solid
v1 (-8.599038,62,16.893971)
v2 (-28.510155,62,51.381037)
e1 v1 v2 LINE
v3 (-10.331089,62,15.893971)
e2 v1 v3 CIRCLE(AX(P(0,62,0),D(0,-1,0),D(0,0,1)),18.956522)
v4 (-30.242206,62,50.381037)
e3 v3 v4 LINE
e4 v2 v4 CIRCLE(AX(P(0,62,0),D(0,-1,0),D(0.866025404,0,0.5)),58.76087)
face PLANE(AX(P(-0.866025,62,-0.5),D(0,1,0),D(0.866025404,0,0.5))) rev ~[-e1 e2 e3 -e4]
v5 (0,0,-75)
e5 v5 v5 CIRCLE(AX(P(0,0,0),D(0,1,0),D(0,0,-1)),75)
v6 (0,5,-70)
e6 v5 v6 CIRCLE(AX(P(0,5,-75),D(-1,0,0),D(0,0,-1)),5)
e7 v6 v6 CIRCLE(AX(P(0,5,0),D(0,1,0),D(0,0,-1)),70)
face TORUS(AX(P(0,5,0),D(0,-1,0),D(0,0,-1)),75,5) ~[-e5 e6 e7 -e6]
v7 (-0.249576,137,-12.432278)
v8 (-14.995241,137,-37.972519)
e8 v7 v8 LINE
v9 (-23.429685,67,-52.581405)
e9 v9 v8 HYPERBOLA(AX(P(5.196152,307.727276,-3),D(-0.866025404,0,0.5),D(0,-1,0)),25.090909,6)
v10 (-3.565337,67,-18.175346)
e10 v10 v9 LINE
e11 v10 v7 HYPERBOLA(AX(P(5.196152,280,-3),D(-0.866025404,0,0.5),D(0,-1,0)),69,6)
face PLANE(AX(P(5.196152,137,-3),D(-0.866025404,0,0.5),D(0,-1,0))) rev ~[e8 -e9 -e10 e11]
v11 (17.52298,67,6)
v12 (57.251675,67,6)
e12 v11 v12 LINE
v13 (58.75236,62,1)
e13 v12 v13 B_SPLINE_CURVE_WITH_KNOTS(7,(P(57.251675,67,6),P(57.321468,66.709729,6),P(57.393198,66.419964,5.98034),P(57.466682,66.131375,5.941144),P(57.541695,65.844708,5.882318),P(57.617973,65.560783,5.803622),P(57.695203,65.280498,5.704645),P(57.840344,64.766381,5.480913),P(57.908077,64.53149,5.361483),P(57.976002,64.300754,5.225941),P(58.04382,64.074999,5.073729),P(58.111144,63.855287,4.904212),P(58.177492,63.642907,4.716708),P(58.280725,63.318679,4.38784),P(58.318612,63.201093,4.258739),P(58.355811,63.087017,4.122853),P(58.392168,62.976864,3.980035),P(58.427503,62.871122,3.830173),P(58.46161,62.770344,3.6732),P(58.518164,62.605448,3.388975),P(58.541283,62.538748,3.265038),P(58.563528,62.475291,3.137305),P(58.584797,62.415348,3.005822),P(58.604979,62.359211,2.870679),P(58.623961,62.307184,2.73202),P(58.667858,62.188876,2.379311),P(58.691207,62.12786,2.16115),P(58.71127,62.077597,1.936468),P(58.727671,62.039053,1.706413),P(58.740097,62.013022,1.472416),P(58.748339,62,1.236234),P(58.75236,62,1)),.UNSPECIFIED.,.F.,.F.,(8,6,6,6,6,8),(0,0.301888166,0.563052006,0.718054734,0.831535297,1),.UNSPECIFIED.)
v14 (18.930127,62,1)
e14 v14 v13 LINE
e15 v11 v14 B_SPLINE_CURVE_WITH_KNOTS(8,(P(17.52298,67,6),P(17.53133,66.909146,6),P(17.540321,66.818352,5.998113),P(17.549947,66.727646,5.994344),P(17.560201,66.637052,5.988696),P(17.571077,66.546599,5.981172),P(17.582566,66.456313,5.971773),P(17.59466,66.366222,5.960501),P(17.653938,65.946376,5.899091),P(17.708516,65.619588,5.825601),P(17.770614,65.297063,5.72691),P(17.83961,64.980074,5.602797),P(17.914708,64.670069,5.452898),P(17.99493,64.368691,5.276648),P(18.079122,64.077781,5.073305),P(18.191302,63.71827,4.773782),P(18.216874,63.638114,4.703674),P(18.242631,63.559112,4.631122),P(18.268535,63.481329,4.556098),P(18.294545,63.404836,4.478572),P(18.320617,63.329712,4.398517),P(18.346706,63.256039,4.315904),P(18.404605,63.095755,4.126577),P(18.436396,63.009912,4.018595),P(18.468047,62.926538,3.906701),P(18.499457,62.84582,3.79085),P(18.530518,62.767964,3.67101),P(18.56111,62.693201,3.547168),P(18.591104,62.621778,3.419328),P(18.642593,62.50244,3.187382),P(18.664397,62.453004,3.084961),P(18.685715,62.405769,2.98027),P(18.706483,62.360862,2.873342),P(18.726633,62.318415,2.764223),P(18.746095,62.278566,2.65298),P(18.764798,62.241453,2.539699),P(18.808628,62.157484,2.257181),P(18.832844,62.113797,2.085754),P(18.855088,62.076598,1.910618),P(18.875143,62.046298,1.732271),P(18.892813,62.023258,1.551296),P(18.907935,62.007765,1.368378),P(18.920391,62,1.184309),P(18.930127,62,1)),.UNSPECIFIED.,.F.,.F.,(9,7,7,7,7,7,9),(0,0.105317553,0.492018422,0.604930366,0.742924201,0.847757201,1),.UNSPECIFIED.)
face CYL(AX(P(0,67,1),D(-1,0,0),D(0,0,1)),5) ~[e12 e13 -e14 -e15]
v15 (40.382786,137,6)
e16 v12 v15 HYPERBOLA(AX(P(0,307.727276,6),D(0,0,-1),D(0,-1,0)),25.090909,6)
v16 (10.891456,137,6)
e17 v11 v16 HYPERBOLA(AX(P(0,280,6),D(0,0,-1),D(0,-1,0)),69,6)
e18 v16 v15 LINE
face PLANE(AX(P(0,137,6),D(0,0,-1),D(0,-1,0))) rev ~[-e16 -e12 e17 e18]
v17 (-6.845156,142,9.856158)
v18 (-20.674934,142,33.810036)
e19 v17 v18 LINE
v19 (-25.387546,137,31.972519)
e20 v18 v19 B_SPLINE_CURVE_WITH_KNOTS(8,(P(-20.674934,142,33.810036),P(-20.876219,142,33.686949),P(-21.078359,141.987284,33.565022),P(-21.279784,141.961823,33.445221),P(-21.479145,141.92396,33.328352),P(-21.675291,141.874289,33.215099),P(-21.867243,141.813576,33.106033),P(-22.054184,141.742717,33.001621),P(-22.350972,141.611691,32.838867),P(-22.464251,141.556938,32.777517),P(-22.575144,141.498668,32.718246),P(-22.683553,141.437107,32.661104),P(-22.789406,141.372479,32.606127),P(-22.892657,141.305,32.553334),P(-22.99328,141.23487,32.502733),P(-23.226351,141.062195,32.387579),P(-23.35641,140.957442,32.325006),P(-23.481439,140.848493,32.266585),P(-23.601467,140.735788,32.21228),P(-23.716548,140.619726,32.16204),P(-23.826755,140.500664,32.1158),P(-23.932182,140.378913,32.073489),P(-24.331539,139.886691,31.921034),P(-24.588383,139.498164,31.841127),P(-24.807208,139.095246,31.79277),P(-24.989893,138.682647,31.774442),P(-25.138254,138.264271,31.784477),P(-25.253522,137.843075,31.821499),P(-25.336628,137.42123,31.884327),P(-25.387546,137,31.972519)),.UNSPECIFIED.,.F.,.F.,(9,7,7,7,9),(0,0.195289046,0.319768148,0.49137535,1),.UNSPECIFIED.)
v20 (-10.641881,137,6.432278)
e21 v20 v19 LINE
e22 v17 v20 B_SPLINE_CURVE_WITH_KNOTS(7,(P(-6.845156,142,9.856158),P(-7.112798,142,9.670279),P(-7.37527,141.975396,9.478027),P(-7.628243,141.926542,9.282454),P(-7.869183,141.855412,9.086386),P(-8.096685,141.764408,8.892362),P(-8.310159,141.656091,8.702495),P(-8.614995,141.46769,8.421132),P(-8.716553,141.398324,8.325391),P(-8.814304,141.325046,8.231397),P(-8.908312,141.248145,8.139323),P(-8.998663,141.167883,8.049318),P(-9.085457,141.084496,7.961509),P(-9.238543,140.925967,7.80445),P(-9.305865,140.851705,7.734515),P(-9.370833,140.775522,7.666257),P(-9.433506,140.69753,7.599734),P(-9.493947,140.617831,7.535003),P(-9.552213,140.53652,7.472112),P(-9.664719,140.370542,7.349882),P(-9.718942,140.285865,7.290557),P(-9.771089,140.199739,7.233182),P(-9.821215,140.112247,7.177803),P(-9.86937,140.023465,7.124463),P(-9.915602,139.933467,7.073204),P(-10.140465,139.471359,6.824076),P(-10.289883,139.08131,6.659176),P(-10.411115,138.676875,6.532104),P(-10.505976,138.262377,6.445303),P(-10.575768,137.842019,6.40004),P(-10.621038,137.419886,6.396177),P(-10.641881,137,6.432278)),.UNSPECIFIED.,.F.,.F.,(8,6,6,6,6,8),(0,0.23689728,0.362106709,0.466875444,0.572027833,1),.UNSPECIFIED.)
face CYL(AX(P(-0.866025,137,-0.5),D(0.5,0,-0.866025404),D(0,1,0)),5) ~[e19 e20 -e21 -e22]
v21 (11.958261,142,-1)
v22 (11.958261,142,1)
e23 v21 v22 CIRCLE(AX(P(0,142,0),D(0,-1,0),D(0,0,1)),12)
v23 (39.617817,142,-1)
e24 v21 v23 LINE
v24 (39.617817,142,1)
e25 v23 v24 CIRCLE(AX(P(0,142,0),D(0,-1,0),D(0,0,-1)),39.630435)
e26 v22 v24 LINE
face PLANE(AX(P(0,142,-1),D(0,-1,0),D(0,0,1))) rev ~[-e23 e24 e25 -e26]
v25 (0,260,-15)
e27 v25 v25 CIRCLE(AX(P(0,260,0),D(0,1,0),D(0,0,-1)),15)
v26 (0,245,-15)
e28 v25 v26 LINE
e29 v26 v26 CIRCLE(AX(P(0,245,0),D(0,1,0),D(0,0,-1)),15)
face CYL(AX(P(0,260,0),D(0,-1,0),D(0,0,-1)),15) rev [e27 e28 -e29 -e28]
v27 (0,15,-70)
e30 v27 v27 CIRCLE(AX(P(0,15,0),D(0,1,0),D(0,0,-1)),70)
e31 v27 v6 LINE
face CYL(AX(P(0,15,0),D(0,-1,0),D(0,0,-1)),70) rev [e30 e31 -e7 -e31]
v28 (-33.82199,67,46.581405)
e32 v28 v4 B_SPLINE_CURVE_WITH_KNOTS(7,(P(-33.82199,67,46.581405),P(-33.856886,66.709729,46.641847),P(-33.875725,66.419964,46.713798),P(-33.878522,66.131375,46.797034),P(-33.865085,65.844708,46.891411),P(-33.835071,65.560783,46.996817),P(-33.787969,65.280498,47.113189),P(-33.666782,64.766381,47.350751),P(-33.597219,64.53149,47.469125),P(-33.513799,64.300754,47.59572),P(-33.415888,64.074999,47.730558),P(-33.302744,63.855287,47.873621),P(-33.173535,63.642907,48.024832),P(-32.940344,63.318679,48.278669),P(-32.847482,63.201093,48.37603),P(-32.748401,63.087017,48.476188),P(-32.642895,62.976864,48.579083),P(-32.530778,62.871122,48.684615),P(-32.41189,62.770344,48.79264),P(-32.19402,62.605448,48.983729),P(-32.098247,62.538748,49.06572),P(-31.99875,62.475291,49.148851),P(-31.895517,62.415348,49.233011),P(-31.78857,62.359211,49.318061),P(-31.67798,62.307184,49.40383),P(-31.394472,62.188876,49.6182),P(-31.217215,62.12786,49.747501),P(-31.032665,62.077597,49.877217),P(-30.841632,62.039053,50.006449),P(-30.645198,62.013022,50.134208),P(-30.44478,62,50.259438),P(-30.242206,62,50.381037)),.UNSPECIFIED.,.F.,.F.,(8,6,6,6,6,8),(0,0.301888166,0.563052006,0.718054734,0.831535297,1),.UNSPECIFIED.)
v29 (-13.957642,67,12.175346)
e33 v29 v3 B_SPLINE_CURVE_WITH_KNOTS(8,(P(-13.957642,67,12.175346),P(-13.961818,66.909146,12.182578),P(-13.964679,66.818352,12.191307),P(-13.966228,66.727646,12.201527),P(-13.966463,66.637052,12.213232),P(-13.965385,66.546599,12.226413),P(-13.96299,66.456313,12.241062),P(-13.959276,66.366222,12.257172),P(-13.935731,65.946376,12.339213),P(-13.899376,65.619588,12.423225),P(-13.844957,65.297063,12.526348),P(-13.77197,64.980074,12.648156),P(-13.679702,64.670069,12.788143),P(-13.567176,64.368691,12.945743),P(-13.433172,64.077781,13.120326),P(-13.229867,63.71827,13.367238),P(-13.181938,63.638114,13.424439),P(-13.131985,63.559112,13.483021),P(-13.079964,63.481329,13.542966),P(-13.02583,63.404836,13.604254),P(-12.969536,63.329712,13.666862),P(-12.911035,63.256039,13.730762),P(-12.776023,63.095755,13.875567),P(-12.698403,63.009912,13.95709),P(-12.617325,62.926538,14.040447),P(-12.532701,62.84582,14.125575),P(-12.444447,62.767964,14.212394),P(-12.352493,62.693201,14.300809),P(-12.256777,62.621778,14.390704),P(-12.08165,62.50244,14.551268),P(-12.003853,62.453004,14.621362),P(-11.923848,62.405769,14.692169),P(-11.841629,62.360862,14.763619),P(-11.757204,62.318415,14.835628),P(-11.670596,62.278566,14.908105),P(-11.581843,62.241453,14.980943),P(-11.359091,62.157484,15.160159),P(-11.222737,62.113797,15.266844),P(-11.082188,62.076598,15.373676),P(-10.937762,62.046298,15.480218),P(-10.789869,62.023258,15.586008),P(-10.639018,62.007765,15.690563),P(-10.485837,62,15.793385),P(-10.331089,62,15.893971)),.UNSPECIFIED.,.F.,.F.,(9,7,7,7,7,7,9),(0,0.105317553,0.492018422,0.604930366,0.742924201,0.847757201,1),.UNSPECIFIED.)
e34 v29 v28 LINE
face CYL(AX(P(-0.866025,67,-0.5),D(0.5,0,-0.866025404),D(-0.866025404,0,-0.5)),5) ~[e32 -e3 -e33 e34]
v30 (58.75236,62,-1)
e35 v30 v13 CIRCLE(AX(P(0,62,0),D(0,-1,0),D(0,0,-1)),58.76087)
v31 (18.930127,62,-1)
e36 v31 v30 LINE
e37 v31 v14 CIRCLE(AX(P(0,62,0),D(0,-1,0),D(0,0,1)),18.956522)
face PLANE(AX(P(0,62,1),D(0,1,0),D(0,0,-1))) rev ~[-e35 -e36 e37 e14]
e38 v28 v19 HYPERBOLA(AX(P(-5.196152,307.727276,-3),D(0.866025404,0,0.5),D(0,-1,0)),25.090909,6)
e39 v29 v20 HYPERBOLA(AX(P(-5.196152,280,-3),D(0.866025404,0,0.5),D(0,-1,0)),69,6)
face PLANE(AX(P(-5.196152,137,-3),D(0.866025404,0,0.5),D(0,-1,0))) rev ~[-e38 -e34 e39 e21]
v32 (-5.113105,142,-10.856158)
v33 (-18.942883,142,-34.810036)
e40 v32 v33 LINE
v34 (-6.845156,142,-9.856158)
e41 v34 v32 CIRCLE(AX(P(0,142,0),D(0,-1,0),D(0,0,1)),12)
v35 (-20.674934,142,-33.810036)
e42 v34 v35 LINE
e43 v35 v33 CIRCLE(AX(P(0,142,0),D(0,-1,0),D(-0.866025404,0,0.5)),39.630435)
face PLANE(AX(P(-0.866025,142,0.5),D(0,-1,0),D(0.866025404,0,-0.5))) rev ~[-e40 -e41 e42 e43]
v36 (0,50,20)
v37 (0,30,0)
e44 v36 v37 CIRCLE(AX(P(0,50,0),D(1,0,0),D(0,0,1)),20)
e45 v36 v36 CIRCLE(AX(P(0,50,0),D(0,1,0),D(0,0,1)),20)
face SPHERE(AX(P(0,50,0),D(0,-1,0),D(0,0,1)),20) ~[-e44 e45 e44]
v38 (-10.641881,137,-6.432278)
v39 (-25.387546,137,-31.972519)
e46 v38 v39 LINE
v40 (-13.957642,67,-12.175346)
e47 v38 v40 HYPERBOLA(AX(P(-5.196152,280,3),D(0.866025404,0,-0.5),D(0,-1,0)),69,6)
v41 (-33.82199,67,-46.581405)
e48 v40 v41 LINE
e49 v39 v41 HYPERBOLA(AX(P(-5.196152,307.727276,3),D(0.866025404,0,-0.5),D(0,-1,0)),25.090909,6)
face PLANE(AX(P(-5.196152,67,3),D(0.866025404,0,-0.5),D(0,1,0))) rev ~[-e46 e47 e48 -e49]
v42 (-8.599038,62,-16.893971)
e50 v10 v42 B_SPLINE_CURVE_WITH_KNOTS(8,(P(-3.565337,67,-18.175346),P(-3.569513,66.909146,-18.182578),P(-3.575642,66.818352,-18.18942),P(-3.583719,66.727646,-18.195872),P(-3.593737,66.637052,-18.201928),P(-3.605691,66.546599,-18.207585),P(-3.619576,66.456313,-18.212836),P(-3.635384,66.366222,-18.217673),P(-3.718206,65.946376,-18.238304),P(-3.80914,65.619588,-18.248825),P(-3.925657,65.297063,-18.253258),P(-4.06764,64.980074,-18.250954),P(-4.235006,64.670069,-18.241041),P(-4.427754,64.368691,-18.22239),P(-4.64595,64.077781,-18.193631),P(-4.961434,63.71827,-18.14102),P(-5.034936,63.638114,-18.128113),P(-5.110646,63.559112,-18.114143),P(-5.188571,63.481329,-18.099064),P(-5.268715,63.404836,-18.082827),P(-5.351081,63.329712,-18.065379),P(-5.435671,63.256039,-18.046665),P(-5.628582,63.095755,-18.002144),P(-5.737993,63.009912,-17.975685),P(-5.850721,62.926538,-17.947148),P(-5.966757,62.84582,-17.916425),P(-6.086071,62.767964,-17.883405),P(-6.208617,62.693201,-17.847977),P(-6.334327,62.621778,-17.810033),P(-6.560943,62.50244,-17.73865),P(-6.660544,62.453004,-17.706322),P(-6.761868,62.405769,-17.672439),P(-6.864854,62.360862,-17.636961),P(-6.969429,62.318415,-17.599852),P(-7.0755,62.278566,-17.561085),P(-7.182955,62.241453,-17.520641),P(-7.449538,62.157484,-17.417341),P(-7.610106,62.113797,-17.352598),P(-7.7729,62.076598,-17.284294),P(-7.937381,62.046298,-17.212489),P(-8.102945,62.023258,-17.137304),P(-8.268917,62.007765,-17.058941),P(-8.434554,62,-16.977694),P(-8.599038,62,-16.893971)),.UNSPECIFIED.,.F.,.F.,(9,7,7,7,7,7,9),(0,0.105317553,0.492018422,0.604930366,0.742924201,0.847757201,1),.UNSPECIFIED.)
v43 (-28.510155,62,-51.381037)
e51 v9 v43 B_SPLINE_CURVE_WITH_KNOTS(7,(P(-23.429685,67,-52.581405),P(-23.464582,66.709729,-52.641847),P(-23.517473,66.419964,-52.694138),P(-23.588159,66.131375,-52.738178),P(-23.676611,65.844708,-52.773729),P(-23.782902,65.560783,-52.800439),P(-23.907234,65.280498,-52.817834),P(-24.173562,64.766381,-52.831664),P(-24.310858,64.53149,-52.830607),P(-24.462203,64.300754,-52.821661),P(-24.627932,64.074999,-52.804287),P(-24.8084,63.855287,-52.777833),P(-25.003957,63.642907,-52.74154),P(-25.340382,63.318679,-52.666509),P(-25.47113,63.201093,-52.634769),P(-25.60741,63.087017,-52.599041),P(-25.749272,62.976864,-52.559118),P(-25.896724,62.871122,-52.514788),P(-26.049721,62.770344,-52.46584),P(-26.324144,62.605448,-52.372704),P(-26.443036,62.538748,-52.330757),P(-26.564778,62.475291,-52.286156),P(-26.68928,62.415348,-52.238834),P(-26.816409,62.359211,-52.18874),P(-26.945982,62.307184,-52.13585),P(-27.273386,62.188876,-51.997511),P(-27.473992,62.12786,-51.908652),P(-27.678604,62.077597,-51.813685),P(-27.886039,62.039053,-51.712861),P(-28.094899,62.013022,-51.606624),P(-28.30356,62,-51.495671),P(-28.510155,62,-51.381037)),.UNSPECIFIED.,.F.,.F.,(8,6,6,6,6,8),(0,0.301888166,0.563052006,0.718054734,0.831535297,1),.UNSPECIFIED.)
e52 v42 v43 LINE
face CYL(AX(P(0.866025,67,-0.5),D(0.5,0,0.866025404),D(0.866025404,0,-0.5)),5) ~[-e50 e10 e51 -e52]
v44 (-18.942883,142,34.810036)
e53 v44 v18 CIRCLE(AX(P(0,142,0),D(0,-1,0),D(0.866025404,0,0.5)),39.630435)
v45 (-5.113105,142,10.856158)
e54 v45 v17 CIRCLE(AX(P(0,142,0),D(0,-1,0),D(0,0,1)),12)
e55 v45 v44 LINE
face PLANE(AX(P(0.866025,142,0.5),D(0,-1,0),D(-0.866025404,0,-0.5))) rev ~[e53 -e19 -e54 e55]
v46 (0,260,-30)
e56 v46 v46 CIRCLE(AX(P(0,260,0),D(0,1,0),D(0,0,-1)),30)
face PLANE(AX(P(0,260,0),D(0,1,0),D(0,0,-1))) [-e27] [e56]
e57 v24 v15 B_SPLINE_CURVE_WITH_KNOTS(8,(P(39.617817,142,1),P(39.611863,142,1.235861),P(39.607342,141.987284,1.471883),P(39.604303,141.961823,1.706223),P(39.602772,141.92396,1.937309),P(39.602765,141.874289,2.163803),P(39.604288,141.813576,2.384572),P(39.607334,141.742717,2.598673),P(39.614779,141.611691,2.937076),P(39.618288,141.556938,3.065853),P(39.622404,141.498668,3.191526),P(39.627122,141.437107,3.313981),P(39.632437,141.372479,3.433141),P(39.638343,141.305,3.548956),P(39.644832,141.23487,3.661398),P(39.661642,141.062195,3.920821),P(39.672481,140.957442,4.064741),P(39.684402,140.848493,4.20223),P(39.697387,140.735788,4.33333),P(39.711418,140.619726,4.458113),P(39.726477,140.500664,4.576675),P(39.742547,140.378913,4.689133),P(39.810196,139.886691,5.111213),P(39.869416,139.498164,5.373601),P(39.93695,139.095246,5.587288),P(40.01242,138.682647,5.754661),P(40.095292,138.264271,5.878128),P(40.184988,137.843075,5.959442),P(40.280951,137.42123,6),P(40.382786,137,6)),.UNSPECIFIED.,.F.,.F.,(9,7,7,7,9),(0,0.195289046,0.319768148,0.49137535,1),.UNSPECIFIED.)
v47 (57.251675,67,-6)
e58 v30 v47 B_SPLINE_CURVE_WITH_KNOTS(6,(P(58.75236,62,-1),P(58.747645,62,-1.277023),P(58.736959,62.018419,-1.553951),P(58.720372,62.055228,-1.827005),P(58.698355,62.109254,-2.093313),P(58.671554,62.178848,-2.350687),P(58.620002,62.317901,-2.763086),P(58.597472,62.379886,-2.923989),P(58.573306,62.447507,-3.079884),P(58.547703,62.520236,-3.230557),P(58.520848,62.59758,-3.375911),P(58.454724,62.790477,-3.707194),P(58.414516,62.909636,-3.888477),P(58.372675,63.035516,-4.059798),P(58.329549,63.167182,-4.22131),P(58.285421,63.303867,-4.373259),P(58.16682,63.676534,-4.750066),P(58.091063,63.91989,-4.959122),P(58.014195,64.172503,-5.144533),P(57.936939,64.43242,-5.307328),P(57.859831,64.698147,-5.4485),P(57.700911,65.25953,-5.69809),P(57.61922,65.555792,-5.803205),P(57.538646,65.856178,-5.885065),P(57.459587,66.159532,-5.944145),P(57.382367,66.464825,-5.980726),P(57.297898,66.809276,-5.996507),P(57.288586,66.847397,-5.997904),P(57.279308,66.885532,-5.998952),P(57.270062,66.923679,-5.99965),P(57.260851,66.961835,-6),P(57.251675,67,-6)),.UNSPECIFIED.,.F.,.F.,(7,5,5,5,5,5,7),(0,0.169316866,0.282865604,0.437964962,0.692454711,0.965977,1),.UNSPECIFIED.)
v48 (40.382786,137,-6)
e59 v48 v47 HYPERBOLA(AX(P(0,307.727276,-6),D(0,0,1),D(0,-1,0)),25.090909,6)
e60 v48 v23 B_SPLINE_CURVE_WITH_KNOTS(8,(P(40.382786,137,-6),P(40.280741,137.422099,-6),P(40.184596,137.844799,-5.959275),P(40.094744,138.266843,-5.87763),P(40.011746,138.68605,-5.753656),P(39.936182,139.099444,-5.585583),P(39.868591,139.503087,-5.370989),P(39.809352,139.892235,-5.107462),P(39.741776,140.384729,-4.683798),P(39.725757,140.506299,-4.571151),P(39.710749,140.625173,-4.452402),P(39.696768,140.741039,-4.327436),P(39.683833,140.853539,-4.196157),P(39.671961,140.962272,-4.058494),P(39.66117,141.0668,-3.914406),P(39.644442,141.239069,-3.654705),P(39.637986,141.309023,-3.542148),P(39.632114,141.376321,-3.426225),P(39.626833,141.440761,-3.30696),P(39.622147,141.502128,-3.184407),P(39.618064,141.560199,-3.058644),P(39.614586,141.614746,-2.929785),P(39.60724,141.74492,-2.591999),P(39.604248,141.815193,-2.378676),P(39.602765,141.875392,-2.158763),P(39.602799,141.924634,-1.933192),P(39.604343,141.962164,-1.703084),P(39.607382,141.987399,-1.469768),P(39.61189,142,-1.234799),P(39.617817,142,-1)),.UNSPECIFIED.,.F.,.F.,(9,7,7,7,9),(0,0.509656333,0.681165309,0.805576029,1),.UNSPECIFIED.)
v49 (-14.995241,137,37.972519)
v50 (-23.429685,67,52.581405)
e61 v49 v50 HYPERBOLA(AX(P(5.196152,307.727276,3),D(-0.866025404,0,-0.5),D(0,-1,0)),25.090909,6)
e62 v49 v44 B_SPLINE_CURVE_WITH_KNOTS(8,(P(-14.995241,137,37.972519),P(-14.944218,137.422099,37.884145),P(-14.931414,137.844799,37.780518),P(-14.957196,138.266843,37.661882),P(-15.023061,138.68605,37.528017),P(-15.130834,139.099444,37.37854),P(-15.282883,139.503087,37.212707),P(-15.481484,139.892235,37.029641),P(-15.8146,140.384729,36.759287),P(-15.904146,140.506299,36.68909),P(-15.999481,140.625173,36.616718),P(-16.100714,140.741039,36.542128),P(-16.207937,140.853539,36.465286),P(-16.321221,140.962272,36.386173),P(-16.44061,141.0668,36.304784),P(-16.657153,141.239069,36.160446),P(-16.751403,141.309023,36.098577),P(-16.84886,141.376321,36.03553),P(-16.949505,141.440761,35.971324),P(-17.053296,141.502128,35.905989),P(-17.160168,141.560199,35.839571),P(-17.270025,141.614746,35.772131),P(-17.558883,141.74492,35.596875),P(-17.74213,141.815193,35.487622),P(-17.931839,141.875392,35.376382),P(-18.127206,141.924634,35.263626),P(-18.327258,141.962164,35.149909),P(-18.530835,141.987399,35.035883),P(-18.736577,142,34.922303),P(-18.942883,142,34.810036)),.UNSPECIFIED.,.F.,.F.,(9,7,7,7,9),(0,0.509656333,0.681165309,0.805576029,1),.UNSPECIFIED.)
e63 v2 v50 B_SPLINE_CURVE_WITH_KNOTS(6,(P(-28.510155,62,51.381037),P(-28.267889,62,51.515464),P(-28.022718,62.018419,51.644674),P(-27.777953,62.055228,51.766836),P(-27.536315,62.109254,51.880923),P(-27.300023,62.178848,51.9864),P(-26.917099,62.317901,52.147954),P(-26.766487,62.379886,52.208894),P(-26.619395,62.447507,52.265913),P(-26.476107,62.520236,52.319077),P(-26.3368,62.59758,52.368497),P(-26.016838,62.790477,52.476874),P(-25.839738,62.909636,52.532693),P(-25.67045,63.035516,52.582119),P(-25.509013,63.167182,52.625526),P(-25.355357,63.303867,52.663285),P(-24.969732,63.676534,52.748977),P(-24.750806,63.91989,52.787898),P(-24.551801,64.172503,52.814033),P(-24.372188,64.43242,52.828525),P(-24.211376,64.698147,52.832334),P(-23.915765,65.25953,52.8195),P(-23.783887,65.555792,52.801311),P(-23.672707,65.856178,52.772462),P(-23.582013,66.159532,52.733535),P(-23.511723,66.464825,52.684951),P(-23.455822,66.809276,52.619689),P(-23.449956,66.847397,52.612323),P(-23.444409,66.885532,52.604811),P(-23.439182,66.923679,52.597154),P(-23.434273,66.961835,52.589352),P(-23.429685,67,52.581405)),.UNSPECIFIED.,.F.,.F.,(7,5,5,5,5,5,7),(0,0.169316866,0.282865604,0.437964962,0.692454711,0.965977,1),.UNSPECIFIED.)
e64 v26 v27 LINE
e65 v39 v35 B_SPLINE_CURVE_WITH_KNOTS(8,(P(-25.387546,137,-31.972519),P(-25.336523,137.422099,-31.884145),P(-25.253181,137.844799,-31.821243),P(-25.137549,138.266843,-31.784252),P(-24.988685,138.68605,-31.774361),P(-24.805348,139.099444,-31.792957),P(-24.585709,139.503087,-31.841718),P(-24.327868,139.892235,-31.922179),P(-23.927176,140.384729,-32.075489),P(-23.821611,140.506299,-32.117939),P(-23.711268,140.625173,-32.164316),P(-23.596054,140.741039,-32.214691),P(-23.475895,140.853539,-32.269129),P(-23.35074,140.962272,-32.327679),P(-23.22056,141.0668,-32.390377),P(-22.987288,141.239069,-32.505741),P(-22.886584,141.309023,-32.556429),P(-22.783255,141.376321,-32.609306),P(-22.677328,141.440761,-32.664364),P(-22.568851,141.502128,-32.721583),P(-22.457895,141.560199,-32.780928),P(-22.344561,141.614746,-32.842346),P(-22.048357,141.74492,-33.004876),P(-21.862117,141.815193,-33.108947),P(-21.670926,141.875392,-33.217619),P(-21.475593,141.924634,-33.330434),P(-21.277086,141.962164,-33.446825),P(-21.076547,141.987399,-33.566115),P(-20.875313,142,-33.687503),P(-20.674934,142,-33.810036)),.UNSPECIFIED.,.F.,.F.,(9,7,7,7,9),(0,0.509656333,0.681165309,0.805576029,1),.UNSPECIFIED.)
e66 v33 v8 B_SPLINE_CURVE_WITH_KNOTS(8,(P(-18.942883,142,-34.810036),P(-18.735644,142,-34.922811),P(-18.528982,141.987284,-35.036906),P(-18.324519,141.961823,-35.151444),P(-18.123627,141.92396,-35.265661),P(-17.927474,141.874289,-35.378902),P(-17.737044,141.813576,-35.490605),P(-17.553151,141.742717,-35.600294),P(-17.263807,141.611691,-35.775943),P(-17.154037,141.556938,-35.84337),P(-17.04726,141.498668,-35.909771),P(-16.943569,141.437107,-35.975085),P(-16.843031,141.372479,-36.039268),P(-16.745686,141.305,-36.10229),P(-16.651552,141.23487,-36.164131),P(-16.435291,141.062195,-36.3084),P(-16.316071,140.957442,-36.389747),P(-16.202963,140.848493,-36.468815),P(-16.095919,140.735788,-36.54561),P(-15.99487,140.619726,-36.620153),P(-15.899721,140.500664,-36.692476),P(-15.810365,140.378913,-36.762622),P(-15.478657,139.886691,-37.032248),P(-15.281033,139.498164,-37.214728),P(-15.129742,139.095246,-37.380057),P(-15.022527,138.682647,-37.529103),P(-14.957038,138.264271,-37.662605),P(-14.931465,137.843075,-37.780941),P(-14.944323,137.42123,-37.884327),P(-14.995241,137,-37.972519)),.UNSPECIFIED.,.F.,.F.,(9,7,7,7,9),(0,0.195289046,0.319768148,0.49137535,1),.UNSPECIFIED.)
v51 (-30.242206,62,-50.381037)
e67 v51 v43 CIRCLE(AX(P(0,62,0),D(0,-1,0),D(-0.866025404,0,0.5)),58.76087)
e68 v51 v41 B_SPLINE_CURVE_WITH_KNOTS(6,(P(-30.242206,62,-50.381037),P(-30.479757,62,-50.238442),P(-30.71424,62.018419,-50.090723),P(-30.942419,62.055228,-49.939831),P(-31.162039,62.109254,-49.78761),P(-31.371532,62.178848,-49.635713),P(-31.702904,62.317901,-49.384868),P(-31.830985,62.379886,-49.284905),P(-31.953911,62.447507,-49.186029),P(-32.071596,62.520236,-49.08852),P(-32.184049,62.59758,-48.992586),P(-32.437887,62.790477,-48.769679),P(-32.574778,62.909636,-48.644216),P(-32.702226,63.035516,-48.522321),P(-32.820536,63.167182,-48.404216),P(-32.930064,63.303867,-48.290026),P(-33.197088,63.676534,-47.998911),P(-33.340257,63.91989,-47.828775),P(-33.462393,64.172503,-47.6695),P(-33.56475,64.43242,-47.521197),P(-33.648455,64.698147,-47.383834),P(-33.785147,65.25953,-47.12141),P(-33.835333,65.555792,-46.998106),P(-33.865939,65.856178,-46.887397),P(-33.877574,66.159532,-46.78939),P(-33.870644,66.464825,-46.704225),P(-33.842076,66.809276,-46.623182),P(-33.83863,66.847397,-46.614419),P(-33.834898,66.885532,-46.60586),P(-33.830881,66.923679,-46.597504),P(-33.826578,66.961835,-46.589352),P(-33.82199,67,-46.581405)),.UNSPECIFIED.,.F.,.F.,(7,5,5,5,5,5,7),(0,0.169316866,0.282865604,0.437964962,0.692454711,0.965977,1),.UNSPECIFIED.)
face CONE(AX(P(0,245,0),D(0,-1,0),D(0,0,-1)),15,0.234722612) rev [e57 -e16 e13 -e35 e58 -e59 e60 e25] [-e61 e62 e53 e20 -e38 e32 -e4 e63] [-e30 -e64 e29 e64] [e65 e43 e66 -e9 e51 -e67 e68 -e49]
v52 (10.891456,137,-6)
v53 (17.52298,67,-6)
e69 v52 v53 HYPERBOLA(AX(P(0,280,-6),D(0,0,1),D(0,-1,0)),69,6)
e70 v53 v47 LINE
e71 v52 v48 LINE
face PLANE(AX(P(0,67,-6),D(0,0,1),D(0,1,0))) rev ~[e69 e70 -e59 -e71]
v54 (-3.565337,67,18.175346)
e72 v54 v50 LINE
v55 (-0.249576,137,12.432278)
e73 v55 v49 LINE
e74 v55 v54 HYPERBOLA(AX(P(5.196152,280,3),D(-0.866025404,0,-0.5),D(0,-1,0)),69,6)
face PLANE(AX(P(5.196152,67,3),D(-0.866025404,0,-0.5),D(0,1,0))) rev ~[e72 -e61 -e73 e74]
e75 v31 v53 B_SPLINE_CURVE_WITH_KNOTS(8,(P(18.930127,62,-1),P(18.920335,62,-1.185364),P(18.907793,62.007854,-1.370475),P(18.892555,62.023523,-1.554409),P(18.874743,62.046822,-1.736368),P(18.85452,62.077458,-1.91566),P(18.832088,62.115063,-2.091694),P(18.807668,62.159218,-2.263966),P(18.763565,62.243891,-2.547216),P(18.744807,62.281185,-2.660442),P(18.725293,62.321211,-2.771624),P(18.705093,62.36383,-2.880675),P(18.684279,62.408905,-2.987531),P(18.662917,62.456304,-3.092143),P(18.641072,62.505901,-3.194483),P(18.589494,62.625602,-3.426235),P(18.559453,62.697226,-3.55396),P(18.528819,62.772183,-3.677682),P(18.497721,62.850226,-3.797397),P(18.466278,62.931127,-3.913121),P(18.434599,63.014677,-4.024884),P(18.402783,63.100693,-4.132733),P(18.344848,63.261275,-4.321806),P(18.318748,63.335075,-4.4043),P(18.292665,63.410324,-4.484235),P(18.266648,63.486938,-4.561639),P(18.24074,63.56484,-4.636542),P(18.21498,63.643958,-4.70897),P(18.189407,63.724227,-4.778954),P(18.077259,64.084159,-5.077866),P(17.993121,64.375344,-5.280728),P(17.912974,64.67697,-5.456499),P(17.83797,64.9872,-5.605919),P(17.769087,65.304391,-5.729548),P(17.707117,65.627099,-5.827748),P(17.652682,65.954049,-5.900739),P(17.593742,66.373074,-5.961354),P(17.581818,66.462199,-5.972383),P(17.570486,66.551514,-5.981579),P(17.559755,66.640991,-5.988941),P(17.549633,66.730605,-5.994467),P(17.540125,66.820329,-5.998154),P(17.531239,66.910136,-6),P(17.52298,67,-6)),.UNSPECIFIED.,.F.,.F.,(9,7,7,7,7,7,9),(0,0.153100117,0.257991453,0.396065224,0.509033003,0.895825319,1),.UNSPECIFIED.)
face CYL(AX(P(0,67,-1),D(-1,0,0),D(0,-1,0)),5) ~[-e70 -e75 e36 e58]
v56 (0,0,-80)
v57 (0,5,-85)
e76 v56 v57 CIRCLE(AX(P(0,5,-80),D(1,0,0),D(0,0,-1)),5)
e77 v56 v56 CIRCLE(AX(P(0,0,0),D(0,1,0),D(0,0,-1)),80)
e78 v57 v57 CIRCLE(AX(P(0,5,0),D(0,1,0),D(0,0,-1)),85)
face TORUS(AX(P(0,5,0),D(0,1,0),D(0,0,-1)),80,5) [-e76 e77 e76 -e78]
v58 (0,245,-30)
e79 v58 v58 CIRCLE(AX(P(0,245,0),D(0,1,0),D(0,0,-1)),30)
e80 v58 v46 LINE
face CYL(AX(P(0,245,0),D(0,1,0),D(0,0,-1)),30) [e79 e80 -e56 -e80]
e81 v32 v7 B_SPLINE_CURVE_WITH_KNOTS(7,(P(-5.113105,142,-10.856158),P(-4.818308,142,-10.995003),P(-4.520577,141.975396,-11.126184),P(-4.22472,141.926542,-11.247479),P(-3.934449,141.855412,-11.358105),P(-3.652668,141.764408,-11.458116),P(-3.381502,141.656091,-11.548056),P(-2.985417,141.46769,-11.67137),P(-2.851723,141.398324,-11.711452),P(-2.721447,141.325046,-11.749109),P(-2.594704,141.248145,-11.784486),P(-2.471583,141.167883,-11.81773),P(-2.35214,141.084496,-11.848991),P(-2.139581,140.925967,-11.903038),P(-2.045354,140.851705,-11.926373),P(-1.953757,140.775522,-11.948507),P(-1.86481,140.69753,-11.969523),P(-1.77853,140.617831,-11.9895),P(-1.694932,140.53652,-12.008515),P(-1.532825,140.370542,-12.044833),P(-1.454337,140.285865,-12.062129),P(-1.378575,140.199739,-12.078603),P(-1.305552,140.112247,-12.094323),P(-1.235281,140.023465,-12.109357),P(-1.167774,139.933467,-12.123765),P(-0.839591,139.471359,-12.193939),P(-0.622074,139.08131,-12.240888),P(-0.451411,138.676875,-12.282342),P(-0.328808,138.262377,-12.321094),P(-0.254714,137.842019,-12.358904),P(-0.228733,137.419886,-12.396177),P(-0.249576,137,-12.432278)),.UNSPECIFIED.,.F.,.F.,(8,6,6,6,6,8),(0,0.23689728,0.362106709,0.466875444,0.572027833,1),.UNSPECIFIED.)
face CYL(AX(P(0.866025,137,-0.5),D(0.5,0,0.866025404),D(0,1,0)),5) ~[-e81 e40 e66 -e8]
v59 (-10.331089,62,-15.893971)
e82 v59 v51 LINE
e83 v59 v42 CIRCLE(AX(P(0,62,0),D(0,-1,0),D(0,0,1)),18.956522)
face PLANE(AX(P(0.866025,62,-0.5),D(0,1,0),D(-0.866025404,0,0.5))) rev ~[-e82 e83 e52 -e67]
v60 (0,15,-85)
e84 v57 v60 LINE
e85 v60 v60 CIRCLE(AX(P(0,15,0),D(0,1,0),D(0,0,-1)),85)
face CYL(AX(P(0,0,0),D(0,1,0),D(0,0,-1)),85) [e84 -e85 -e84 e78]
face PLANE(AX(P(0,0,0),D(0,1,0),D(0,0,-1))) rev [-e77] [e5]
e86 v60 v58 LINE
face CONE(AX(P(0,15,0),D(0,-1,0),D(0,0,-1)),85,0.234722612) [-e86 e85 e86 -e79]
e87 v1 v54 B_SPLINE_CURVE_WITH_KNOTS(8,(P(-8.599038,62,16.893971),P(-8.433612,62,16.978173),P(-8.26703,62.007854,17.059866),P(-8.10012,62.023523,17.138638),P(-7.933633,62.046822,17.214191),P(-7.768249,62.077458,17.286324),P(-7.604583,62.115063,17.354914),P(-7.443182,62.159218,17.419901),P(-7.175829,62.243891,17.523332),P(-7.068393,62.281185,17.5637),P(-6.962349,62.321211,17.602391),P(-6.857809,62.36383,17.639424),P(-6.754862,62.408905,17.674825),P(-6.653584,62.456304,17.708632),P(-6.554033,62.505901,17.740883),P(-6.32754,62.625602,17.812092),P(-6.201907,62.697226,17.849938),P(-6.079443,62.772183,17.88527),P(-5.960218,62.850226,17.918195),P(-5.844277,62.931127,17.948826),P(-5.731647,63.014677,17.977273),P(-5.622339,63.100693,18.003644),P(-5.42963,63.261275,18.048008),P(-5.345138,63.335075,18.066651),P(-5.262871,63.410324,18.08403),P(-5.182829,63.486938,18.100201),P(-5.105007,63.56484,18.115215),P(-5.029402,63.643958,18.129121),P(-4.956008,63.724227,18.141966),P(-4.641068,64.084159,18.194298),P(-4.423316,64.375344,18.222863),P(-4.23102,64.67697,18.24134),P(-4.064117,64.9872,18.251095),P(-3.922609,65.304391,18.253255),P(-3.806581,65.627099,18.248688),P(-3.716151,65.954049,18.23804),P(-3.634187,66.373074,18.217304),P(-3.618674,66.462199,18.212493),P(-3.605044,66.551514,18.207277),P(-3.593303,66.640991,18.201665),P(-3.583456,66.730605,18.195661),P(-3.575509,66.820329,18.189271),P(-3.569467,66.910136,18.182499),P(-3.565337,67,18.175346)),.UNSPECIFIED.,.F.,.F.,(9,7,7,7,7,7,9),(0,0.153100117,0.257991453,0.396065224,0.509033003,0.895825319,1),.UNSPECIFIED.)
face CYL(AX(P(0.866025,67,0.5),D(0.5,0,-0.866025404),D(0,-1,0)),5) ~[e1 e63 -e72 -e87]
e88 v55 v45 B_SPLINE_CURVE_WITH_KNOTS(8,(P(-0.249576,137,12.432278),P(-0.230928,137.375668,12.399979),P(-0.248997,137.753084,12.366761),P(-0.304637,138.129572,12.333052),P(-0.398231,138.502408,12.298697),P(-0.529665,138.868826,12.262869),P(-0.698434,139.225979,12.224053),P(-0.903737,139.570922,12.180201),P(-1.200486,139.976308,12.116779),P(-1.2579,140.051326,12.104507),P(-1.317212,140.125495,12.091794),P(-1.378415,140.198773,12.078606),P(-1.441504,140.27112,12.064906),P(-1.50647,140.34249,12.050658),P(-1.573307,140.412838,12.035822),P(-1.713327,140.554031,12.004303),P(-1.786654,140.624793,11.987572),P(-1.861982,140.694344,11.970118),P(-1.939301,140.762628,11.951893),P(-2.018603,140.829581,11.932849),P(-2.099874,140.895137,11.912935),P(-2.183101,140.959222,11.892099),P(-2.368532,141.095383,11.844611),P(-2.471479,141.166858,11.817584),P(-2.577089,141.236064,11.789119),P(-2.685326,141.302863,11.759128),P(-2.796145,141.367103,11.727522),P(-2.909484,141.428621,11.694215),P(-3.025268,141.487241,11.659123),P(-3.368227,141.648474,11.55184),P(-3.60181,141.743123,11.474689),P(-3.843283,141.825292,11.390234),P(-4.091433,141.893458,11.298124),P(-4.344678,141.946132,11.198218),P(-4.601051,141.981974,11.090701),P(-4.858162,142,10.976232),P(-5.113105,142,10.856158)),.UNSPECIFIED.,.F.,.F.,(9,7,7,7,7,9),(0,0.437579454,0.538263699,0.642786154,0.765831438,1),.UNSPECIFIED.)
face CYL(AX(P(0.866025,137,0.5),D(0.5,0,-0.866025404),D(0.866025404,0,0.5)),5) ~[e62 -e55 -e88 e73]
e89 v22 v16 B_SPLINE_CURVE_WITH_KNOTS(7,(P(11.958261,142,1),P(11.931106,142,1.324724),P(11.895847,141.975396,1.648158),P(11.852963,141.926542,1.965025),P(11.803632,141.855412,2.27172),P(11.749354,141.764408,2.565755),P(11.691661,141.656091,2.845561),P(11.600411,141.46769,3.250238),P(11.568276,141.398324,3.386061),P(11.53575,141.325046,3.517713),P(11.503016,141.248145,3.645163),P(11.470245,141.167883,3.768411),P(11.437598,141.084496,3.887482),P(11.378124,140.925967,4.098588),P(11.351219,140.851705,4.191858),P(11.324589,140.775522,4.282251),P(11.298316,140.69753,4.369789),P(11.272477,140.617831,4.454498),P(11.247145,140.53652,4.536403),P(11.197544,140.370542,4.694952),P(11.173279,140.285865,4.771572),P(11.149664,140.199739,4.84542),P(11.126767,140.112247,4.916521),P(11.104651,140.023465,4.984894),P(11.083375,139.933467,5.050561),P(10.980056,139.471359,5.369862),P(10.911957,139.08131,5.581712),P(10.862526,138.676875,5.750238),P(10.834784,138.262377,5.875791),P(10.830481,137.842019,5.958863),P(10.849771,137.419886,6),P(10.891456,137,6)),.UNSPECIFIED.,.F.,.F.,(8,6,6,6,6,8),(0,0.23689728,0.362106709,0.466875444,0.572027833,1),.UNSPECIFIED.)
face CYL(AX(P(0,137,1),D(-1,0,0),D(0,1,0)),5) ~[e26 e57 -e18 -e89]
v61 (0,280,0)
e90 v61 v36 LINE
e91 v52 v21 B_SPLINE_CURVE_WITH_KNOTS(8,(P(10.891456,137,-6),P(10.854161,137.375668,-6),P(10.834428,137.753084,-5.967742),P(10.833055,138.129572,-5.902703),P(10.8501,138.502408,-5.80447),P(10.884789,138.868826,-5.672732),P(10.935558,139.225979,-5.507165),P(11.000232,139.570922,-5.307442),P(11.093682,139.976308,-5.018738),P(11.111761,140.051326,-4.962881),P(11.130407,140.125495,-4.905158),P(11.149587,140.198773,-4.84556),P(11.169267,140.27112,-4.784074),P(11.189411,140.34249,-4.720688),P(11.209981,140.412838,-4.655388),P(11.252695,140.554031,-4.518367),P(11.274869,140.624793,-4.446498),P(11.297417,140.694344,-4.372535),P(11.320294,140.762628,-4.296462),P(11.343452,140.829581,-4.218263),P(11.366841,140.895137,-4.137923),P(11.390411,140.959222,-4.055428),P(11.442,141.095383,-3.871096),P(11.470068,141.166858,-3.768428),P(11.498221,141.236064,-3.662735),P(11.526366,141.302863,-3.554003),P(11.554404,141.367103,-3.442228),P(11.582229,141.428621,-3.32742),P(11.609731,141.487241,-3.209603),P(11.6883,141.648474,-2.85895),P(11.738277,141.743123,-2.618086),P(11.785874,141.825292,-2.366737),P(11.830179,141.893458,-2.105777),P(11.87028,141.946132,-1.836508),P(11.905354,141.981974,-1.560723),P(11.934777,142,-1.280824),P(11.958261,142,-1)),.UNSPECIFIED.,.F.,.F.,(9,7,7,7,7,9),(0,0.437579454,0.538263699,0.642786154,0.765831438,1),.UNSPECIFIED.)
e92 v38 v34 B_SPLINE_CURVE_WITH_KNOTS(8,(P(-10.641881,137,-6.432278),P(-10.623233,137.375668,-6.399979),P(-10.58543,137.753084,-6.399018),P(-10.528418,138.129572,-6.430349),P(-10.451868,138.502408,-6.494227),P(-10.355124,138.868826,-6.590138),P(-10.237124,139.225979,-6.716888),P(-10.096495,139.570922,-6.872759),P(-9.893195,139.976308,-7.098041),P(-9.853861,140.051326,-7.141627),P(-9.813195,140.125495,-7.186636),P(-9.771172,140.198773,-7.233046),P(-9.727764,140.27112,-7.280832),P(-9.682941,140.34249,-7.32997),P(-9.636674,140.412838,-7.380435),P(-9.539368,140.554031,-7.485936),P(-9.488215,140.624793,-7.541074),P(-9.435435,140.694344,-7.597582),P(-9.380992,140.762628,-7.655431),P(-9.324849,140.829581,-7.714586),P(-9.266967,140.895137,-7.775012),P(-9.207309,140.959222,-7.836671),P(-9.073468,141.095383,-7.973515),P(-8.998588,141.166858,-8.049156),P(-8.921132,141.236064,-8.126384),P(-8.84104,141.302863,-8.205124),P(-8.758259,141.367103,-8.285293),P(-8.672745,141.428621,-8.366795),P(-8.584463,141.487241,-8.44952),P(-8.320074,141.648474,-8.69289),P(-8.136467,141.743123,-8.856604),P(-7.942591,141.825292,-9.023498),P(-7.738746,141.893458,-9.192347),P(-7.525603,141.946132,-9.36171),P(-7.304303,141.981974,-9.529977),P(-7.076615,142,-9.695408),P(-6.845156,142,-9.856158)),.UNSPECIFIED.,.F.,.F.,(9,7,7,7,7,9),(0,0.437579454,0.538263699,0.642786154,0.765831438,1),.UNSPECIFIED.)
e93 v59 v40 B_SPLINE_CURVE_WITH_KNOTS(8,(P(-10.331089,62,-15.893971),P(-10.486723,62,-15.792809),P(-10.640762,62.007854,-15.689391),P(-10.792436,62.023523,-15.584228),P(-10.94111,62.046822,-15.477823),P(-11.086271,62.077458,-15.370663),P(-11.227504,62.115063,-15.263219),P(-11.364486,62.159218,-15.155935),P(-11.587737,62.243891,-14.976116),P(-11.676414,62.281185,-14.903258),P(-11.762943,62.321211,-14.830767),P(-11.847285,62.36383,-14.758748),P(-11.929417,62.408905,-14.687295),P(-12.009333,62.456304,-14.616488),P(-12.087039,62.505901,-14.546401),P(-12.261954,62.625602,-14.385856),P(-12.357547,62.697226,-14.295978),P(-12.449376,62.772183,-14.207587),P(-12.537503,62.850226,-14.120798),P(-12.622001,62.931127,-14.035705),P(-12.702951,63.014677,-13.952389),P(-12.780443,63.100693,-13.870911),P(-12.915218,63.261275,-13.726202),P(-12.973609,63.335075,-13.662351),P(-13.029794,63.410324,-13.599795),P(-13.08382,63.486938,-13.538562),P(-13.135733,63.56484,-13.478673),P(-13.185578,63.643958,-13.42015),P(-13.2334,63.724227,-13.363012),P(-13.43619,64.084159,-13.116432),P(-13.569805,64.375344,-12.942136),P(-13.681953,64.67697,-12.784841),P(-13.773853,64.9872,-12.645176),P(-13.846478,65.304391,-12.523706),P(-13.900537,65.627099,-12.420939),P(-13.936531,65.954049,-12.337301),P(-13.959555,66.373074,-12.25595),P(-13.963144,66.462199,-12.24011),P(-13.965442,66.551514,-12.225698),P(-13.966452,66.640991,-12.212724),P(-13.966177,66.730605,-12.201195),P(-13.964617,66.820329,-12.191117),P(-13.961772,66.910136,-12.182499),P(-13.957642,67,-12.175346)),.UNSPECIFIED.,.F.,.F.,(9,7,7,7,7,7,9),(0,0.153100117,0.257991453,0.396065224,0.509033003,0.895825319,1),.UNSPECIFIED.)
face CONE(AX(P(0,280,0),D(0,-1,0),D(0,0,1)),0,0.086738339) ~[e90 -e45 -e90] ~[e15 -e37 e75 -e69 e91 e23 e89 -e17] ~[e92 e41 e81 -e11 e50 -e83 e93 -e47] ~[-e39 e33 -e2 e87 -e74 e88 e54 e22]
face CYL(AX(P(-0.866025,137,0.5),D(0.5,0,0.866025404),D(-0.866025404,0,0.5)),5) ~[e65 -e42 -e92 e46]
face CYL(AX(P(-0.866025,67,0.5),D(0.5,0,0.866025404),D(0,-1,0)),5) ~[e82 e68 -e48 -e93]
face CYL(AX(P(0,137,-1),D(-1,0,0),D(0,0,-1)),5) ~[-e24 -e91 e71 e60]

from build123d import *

# Parameters (mm, degrees)
FILLET1_R           = 5
BOSS_EXTRUDE1_REACH = 306.713
CIRPATTERN1_COUNT   = 3


with BuildPart() as part:
    # Sketch1 → Revolve1 (revolve)
    with BuildSketch(Plane.XY, mode=Mode.PRIVATE) as revolve1_sk:
        Polygon((-70, 0), (-85, 0), (-85, 15), (-30, 245), (-30, 260), (-15, 260), (-15, 245), (-70, 15), align=None)
    revolve(revolve1_sk.sketch.rotate(Axis((0, 0, 0), (0, 1, 0)), 270), axis=Axis((0, 0, 0), (0, 1, 0)))

    # Fillet1
    fillet1_edges = [part.edges().sort_by_distance(p)[0] for p in [
        (0, 0, 70),
        (0, 0, 85),
    ]]
    fillet(fillet1_edges, radius=FILLET1_R)



with BuildPart() as body_2:
    # Sketch3 → Revolve2 (revolve)
    with BuildSketch(Plane.XY, mode=Mode.PRIVATE) as revolve2_sk:
        with BuildLine():
            Line((0, 30), (0, 280))
            Line((0, 280), (-20, 50))
            ThreePointArc((-20, 50), (-14.142135624, 35.857864376), (0, 30))
        make_face()
    revolve(revolve2_sk.sketch.rotate(Axis((0, 50, 0), (0, 1, 0)), 90), axis=Axis((0, 50, 0), (0, 1, 0)))


with BuildPart() as part_1:
    add(part.part)

    add(body_2.part)  # Boss-Extrude1 merges body 2
    # Boss-Extrude1: up to this cone (the profile starts inside it)
    boss_extrude1_end = Plane(origin=(0, 102, 0), z_dir=(0, -1, 0)).offset(-205.727271727) * Cone(1e-06, 134.423808129, 562.135923901, align=(Align.CENTER, Align.CENTER, Align.MIN), mode=Mode.PRIVATE)
    # Sketch5 → Boss-Extrude1 (add, up to the surface)
    with BuildSketch(Plane(origin=(0, 0, 0), x_dir=(0, 0, -1), z_dir=(1, 0, 0)), mode=Mode.PRIVATE) as boss_extrude1_sk1:
        with BuildLine():
            Line((-1, 62), (1, 62))
            ThreePointArc((1, 62), (4.535533906, 63.464466094), (6, 67))
            Line((6, 67), (6, 137))
            ThreePointArc((6, 137), (4.535533906, 140.535533906), (1, 142))
            Line((1, 142), (-1, 142))
            ThreePointArc((-1, 142), (-4.535533906, 140.535533906), (-6, 137))
            Line((-6, 137), (-6, 67))
            ThreePointArc((-6, 67), (-4.535533906, 63.464466094), (-1, 62))
        make_face()
    boss_extrude1_tool1 = extrude(boss_extrude1_sk1.sketch, amount=BOSS_EXTRUDE1_REACH, mode=Mode.PRIVATE) & boss_extrude1_end
    boss_extrude1 = boss_extrude1_tool1.solids().sort_by_distance((0, 102, 0))[0]
    add(boss_extrude1)

    # CirPattern1: Boss-Extrude1 ×3 about axis
    cirpattern1_axis = Axis((0, 0, 0), (0, 1, 0))
    for i in range(1, CIRPATTERN1_COUNT):
        add(boss_extrude1.rotate(cirpattern1_axis, i * 360 / CIRPATTERN1_COUNT))


solid = part_1.part
